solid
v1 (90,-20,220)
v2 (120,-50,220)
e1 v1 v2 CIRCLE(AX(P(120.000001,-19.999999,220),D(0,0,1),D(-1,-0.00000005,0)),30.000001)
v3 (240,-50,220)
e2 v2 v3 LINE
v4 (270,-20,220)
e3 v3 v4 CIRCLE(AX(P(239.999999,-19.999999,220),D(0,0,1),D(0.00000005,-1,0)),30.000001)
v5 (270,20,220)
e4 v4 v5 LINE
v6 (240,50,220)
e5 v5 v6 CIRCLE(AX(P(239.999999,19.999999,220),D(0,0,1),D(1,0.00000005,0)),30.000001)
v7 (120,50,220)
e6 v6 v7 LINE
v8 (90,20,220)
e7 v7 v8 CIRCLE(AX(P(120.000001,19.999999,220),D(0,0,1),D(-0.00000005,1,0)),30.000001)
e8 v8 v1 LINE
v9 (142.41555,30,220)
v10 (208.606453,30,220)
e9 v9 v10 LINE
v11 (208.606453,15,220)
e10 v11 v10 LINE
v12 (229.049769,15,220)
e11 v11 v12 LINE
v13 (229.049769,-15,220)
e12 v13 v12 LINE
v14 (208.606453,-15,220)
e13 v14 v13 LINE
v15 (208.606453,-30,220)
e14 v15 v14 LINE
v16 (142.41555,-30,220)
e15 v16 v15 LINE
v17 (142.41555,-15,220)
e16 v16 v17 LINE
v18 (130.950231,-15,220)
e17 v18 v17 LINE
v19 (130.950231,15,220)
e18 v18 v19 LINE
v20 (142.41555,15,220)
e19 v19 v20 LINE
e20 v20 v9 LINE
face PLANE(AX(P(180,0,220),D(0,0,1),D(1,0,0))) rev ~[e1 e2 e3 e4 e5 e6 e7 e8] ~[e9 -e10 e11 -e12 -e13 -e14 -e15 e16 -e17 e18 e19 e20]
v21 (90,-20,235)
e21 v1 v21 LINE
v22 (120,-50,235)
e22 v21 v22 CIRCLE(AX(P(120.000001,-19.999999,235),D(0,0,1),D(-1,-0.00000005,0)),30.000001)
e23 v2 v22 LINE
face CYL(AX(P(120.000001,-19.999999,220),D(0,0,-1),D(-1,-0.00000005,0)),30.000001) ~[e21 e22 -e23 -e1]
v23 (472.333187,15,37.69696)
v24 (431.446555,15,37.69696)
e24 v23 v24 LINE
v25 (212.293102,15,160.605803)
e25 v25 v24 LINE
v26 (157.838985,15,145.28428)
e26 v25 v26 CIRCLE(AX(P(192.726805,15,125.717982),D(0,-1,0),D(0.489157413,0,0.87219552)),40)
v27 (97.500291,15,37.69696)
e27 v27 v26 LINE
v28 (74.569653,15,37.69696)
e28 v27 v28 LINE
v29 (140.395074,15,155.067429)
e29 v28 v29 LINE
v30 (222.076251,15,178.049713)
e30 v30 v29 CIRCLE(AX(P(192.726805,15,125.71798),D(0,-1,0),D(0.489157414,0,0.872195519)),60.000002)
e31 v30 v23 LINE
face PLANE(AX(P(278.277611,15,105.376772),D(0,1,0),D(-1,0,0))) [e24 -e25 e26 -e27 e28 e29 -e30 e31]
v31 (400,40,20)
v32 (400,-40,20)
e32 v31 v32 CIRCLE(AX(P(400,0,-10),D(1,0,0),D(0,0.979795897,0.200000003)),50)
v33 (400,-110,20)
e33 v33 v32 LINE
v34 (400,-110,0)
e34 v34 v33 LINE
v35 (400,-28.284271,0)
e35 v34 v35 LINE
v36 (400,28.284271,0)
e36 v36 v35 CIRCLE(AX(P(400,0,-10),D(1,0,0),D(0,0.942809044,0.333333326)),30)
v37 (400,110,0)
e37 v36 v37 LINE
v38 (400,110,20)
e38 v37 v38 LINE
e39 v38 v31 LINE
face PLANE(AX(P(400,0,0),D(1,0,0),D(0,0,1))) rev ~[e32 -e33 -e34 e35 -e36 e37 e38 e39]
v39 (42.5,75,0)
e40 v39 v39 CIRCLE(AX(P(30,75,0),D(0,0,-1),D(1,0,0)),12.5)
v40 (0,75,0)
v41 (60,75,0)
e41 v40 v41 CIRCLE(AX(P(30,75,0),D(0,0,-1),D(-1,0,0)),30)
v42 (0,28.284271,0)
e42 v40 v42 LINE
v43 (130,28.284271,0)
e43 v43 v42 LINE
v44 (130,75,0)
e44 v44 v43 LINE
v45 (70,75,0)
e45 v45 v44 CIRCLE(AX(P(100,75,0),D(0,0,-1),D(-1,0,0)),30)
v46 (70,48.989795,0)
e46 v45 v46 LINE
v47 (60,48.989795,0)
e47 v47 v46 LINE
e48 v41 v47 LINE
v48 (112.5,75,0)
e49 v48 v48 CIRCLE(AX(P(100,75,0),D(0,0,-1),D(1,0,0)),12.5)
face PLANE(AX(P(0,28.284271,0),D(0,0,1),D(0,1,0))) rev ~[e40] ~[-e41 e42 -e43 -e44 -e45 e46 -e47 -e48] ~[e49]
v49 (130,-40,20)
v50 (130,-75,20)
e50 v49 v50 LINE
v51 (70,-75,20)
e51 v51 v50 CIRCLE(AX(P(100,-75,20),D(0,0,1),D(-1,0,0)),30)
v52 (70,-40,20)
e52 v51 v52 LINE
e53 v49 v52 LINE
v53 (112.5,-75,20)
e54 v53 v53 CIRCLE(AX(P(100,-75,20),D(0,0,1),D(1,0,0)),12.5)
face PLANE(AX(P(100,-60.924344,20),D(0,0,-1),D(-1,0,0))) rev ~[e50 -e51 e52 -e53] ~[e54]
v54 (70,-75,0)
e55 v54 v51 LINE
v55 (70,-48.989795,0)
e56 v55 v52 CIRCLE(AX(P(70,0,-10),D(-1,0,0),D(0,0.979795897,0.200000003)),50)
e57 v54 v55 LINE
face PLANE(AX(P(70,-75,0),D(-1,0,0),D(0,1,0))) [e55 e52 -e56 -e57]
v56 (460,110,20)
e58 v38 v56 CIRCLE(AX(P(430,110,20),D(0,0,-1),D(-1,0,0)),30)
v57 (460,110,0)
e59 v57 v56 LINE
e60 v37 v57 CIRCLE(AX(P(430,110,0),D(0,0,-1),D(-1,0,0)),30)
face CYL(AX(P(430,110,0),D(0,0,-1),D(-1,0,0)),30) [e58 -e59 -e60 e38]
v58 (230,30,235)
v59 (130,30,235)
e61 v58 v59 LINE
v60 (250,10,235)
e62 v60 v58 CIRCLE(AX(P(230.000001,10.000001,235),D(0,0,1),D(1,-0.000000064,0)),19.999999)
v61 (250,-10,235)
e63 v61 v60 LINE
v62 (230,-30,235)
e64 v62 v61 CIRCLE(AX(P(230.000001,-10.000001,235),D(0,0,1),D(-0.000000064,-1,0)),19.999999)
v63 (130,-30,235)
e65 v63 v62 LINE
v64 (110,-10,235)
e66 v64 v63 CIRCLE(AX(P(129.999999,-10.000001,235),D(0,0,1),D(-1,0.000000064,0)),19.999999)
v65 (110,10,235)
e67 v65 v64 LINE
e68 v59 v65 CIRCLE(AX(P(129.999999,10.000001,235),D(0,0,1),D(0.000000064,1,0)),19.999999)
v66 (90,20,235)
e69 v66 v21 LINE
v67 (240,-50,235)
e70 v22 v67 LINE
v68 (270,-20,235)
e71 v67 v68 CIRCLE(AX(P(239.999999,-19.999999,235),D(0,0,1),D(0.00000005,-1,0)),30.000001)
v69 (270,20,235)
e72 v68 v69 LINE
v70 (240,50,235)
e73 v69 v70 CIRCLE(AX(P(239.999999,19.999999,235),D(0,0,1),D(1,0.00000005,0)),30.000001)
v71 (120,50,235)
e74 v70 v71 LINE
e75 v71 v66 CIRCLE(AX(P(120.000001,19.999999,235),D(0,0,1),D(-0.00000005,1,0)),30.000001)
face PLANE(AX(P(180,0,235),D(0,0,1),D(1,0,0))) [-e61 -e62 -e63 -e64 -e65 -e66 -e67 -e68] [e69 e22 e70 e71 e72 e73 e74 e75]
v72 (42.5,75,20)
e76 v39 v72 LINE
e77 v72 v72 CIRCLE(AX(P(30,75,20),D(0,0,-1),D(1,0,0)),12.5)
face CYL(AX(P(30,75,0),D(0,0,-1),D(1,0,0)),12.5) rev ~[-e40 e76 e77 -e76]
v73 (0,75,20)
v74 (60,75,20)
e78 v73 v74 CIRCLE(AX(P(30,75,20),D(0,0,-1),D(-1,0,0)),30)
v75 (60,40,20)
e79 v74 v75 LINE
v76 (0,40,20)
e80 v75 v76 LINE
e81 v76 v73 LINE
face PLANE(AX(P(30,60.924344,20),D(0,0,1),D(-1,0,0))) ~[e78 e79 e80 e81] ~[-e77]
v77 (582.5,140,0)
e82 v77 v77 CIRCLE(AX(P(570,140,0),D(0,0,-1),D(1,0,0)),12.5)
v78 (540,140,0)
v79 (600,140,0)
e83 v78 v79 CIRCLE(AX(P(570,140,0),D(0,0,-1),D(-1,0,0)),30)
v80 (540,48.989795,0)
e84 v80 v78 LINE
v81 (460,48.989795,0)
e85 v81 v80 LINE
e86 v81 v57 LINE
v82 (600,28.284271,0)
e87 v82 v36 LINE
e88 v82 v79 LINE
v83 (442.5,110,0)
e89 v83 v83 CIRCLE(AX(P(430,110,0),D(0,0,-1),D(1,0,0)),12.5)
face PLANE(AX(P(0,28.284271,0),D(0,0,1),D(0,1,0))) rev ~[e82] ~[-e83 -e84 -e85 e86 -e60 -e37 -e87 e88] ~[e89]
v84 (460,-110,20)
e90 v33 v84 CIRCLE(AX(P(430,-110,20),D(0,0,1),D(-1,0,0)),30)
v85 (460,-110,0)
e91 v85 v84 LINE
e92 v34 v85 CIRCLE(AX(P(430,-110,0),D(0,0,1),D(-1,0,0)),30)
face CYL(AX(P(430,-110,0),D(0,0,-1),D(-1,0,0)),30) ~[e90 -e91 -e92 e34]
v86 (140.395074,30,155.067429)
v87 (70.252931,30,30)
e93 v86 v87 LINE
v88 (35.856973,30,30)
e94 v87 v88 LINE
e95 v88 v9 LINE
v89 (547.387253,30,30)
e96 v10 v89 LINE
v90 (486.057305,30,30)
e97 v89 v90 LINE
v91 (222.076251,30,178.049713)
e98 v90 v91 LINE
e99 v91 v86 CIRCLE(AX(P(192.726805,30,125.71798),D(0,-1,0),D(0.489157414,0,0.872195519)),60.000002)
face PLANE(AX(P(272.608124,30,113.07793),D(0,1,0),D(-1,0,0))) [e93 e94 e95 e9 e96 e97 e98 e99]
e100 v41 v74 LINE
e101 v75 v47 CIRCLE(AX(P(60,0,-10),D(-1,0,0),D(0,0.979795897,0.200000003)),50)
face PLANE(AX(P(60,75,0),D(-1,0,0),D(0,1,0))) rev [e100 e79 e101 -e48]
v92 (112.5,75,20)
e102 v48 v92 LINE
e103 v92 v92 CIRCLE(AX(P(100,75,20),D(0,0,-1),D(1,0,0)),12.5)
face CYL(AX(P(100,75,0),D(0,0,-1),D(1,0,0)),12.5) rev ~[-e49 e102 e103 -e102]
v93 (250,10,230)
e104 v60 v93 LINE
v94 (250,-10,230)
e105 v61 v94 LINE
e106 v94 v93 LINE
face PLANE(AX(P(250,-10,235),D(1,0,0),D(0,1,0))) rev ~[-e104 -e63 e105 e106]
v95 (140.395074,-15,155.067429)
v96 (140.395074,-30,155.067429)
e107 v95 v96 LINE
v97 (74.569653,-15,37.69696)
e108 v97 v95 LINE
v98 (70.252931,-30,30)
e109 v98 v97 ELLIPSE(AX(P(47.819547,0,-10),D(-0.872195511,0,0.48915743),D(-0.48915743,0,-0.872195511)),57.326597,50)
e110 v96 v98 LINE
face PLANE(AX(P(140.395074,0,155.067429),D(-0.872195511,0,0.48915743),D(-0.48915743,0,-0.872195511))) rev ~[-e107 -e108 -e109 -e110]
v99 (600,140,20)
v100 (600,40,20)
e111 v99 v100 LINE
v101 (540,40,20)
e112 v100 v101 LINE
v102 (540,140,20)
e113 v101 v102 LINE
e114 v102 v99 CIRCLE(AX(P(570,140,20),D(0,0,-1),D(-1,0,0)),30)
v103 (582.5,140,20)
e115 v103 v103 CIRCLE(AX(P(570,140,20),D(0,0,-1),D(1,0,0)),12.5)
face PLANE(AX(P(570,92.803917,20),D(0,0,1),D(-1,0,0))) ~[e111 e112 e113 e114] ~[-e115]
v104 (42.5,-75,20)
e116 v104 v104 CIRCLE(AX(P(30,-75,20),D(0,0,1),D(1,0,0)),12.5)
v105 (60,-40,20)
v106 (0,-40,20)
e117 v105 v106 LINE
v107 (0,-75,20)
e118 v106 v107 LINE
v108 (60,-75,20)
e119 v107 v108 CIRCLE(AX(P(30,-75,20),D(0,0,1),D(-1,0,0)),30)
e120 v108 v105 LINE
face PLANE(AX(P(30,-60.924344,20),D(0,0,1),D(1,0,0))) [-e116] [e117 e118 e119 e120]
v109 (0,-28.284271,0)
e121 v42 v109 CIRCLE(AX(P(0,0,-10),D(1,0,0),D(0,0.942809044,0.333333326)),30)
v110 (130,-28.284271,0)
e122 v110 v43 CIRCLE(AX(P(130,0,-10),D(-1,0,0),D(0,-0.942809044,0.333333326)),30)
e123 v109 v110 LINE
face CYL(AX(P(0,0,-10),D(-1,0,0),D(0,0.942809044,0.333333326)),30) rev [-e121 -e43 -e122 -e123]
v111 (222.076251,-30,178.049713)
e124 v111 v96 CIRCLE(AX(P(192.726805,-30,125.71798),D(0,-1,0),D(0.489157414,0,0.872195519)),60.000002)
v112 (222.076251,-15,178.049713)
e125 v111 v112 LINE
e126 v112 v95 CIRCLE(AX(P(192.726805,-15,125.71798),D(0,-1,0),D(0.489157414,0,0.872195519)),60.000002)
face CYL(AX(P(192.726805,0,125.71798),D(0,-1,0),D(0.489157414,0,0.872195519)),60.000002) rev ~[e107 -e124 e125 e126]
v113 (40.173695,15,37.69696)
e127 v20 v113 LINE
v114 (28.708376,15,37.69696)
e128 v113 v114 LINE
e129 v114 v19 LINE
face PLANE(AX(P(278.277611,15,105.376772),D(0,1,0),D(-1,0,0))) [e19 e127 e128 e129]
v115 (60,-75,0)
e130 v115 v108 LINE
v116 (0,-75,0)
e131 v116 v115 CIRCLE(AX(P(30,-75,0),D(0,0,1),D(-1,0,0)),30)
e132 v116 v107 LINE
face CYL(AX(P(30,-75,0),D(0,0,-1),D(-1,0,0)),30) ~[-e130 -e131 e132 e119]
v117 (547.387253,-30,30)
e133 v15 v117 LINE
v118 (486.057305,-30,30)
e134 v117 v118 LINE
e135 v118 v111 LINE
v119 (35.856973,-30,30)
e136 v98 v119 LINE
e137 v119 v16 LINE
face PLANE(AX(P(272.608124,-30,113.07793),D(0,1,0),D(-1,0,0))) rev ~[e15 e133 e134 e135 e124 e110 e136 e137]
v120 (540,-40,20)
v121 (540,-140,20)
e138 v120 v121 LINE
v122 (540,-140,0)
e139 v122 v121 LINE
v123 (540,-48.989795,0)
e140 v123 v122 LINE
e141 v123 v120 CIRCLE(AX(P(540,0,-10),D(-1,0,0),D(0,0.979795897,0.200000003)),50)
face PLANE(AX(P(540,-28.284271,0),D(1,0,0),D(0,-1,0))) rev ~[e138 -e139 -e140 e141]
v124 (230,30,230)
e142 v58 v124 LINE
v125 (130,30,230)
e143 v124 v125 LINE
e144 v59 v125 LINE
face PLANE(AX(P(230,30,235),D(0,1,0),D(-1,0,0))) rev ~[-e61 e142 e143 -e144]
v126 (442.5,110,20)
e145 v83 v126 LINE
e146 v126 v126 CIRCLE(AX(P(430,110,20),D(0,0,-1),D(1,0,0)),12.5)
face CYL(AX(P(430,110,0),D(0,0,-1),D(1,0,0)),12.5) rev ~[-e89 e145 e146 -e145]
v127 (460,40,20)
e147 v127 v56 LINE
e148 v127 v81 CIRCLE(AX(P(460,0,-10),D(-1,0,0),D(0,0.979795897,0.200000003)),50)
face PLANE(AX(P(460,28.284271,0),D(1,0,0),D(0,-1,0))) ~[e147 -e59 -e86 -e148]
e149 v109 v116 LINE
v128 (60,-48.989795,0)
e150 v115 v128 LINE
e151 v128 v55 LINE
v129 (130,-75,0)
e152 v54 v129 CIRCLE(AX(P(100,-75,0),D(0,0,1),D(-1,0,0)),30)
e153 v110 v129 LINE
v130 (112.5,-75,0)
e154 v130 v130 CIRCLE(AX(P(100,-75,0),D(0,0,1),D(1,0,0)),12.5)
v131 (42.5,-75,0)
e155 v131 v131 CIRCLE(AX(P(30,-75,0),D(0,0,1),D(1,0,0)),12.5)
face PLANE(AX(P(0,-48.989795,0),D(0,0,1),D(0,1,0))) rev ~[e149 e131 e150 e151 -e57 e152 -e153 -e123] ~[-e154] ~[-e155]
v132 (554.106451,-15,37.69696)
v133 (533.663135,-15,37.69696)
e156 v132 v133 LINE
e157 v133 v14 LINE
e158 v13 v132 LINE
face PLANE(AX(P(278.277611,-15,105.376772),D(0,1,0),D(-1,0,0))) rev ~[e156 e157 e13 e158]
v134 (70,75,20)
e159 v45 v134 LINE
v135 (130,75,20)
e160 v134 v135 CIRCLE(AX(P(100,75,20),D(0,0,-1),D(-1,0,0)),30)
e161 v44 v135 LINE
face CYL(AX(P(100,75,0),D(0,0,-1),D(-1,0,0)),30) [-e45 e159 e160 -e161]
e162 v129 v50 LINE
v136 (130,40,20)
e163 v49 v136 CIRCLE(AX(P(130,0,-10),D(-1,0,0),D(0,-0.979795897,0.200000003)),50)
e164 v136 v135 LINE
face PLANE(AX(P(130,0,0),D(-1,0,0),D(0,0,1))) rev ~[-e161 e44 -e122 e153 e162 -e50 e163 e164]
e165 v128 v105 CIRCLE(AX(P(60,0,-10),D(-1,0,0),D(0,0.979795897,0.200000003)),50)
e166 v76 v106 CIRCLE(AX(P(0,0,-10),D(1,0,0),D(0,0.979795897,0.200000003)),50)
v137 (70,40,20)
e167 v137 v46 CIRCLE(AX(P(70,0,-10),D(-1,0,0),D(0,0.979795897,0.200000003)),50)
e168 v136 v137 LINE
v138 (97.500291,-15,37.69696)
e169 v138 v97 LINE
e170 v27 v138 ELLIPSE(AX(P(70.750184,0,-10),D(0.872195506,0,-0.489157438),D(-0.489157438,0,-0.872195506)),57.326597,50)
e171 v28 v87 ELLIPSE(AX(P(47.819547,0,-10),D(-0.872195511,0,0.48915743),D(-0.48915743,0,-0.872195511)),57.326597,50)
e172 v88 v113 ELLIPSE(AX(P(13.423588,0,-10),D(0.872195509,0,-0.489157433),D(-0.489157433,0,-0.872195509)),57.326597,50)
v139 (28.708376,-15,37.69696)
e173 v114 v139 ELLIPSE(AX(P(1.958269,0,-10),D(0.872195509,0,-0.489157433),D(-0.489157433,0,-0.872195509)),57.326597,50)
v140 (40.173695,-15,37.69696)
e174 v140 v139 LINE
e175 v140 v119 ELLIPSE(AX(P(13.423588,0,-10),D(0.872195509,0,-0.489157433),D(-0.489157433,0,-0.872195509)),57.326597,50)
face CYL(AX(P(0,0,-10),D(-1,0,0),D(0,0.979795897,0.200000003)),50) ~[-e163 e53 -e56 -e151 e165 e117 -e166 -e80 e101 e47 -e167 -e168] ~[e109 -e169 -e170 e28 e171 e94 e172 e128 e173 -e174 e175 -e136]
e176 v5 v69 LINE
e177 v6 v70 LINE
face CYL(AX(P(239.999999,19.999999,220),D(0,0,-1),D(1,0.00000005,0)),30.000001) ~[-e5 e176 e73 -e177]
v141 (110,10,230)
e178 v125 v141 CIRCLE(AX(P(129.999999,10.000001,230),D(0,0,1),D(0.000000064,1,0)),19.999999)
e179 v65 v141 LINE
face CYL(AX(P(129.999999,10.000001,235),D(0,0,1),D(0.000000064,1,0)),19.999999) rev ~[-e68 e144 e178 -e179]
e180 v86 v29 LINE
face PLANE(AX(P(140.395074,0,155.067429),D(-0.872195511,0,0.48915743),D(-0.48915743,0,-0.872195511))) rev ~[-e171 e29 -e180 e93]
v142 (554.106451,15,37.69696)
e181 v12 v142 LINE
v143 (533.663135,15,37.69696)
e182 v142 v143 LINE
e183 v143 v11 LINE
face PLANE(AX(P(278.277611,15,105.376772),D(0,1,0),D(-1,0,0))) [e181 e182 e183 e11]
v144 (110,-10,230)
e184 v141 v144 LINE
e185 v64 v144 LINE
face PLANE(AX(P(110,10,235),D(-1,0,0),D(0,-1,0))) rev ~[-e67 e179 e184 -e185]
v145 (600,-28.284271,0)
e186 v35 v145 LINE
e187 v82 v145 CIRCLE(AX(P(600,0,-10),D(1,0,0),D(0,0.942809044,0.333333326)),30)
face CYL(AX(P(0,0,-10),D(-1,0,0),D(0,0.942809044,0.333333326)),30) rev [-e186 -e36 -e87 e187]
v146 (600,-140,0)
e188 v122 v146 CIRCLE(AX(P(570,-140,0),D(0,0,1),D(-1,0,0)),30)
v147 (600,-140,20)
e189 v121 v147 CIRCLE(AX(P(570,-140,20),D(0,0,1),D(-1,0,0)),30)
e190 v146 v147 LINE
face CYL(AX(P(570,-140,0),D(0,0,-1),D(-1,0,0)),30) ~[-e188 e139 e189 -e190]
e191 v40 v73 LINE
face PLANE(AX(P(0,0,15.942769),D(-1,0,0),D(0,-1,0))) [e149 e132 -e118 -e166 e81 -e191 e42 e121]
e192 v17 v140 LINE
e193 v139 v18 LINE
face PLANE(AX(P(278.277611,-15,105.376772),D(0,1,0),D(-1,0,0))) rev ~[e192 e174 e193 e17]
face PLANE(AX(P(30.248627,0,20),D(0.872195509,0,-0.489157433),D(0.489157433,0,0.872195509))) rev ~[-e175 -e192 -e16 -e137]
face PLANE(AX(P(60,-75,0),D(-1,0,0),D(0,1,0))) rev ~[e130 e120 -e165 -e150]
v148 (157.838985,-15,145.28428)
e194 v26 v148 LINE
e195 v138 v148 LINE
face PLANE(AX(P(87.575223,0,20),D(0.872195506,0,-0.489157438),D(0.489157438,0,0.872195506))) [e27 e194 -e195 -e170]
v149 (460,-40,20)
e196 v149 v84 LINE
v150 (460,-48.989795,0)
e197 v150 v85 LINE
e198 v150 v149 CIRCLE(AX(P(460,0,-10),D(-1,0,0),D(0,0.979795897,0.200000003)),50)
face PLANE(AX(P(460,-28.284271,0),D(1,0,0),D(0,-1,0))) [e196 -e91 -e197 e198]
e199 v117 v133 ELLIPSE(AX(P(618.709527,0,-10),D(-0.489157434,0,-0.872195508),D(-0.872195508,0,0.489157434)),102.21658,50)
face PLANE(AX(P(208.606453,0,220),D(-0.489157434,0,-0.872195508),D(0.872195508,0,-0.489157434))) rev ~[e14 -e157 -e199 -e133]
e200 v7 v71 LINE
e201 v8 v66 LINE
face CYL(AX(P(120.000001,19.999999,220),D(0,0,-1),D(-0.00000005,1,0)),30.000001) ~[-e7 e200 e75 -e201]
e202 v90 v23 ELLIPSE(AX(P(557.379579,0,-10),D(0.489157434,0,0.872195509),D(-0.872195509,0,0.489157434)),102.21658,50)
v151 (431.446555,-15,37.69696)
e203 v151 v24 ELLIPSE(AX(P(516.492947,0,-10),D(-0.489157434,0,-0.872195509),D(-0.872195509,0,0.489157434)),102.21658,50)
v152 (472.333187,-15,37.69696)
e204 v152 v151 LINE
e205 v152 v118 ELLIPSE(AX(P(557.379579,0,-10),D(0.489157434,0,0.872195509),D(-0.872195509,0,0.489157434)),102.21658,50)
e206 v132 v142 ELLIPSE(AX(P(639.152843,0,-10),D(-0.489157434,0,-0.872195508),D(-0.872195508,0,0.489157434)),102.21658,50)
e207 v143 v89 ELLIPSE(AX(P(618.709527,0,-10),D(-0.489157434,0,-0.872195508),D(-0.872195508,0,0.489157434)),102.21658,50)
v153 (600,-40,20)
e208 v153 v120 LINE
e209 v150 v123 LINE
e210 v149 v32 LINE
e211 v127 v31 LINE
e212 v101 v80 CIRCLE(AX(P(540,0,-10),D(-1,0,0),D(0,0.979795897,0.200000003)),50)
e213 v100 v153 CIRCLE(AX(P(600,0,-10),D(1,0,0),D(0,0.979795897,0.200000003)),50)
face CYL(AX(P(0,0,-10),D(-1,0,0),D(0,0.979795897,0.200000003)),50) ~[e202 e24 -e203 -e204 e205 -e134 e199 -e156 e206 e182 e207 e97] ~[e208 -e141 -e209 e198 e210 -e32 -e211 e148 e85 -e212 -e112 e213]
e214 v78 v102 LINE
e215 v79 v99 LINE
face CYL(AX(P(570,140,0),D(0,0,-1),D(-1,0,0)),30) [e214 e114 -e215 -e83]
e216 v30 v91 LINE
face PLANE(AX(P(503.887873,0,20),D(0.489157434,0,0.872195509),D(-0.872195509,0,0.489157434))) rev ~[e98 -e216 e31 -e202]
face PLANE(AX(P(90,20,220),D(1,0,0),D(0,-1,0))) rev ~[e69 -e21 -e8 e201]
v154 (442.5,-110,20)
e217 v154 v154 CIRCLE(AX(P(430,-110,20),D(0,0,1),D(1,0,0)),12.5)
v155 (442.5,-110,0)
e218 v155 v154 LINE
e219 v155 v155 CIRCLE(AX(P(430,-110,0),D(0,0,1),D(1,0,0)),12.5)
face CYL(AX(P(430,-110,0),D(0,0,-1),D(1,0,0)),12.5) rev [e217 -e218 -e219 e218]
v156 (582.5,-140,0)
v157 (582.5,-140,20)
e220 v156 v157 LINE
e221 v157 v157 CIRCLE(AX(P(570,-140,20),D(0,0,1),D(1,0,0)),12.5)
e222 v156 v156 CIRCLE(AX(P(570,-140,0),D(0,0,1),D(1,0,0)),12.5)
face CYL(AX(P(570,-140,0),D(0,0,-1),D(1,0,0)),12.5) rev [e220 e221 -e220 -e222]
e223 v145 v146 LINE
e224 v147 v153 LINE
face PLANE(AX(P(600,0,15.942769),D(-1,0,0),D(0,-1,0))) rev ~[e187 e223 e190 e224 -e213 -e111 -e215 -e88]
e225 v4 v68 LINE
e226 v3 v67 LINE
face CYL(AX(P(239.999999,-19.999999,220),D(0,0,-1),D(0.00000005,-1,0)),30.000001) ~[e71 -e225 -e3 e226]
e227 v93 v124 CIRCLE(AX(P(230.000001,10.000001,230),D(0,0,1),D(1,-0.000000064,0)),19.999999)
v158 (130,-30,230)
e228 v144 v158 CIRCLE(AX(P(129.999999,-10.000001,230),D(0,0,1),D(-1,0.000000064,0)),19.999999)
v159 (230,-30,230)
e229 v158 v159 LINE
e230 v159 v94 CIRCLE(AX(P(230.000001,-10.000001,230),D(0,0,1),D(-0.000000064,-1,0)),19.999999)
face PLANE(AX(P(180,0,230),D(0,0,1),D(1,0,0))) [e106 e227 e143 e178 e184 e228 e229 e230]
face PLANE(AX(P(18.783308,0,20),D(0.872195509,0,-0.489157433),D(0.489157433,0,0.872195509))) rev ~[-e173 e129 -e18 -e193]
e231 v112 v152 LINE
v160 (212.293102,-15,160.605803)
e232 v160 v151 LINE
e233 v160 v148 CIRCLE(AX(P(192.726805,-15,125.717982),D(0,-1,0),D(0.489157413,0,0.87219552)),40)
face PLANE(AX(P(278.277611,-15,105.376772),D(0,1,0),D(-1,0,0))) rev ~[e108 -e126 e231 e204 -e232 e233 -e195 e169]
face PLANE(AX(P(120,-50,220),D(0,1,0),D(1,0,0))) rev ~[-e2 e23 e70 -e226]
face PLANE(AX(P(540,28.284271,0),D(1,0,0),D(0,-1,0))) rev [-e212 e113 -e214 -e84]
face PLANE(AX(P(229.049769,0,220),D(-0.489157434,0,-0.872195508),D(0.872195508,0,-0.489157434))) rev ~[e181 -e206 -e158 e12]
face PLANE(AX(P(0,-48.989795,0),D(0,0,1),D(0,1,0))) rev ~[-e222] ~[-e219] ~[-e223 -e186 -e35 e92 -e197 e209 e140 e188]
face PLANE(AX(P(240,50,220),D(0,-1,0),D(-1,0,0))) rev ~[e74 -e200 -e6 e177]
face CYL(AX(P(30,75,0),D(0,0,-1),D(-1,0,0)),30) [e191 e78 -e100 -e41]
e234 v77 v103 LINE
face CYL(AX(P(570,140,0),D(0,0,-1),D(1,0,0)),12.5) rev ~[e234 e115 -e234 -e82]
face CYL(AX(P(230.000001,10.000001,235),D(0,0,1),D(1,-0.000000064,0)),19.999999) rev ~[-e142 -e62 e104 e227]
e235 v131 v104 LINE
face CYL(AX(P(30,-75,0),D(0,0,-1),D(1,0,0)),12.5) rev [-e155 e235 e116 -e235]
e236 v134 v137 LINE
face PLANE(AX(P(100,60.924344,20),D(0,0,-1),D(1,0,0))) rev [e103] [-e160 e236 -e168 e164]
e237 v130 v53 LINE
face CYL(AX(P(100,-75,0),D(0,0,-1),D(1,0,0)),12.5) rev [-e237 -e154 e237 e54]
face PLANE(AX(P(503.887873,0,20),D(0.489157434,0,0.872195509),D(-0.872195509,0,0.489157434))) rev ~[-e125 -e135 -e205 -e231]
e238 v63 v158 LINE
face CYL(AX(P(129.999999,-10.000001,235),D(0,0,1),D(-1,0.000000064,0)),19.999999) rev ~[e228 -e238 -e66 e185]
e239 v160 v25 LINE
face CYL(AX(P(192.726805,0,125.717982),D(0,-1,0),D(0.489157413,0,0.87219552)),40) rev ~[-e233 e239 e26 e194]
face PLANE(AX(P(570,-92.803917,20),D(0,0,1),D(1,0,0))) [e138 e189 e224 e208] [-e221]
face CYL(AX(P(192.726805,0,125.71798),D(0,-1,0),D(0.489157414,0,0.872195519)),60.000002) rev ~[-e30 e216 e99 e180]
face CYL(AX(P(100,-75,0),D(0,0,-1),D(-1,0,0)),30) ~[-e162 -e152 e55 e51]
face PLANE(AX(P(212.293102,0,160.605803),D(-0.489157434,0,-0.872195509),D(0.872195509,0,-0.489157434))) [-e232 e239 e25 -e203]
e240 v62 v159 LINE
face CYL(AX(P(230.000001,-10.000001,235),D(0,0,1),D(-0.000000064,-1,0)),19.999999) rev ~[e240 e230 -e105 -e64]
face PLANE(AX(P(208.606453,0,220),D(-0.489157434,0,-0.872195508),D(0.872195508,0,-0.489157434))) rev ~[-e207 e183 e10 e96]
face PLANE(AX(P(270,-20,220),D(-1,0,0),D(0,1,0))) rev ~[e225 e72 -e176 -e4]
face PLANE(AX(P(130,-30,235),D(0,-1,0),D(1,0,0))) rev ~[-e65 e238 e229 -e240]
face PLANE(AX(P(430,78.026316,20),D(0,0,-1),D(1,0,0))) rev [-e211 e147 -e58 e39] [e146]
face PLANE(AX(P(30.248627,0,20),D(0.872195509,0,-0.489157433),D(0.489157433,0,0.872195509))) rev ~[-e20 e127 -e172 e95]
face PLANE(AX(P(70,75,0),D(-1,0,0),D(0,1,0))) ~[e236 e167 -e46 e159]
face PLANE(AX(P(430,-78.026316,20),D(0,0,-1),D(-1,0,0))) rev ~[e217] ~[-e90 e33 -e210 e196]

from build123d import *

# Parameters (mm, degrees)
PAD_DEPTH         = 600
PAD001_DEPTH      = 15
PAD002_DEPTH      = 30
SKETCH004_W       = 270
SKETCH004_H       = 40
POCKET_DEPTH      = 48.990795
POCKET_DEPTH_BACK = -48.990795
PAD003_DEPTH      = 15
POCKET001_DEPTH   = 5
SKETCH007_R       = 12.5
PAD004_DEPTH      = 20


with BuildPart() as part:
    # Sketch (on YZ_Plane of Origin) → Pad (new body)
    with BuildSketch(Plane.YZ):
        with BuildLine():
            ThreePointArc((28.284271, 0), (0, 20), (-28.284271, 0))
            Line((-48.989795, 0), (-28.284271, 0))
            ThreePointArc((48.989795, 0), (0, 40), (-48.989795, 0))
            Line((28.284271, 0), (48.989795, 0))
        make_face()
    extrude(amount=PAD_DEPTH)

    # Sketch002 (on XZ_Plane of Origin) → Pad001 (join, symmetric)
    with BuildSketch(Plane.XZ):
        with BuildLine():
            Line((18.783308, 20), (130.950231, 220))
            Line((130.950231, 220), (229.049769, 220))
            Line((229.049769, 220), (585.661137, 20))
            Line((463.001241, 20), (585.661137, 20))
            Line((212.293102, 160.605803), (463.001241, 20))
            ThreePointArc((212.293102, 160.605803), (181.892852, 164.222858), (157.838985, 145.28428))
            Line((87.575223, 20), (157.838985, 145.28428))
            Line((18.783308, 20), (87.575223, 20))
        make_face()
    extrude(amount=PAD001_DEPTH, both=True)

    # Sketch003 → Pad002 (join, symmetric)
    with BuildSketch(Plane.XZ):
        with BuildLine():
            Line((30.248627, 20), (142.41555, 220))
            Line((142.41555, 220), (208.606453, 220))
            Line((208.606453, 220), (565.217821, 20))
            Line((565.217821, 20), (503.887873, 20))
            Line((503.887873, 20), (222.076251, 178.049713))
            ThreePointArc((222.076251, 178.049713), (176.475876, 183.475296), (140.395074, 155.067429))
            Line((140.395074, 155.067429), (64.644585, 20))
            Line((64.644585, 20), (30.248627, 20))
        make_face()
    pad002 = extrude(amount=PAD002_DEPTH, both=True)

    # Mirrored: Pad002 across XZ
    add(pad002.mirror(Plane.XZ))

    # Sketch004 (on XZ_Plane of Origin) → Pocket (cut, two sides)
    with BuildSketch(Plane.XZ) as pocket_sk:
        with Locations((265, 20)):
            Rectangle(SKETCH004_W, SKETCH004_H)
    extrude(amount=-POCKET_DEPTH, mode=Mode.SUBTRACT)
    extrude(pocket_sk.sketch, amount=-POCKET_DEPTH_BACK, mode=Mode.SUBTRACT)

    # Sketch005 (on Face27 of Pocket) → Pad003 (join)
    with BuildSketch(Plane.XY.offset(220)):
        with BuildLine():
            Line((90, 20), (90, -20))
            ThreePointArc((90, -20), (98.786797, -41.213203), (120, -50))
            Line((120, -50), (240, -50))
            ThreePointArc((240, -50), (261.213203, -41.213203), (270, -20))
            Line((270, -20), (270, 20))
            ThreePointArc((270, 20), (261.213203, 41.213203), (240, 50))
            Line((240, 50), (120, 50))
            ThreePointArc((120, 50), (98.786797, 41.213203), (90, 20))
        make_face()
    extrude(amount=PAD003_DEPTH)

    # Sketch006 (on Face45 of Pad003) → Pocket001 (cut)
    with BuildSketch(Plane.XY.offset(235)):
        with BuildLine():
            Line((110, 10), (110, -10))
            ThreePointArc((110, -10), (115.857864, -24.142136), (130, -30))
            Line((130, -30), (230, -30))
            ThreePointArc((230, -30), (244.142136, -24.142136), (250, -10))
            Line((250, -10), (250, 10))
            ThreePointArc((250, 10), (244.142136, 24.142136), (230, 30))
            Line((230, 30), (130, 30))
            ThreePointArc((130, 30), (115.857864, 24.142136), (110, 10))
        make_face()
    extrude(amount=-POCKET001_DEPTH, mode=Mode.SUBTRACT)

    # Sketch007 (on XY_Plane of Origin) → Pad004 (join)
    with BuildSketch(Plane.XY):
        with BuildLine():
            Line((0, -28.284271), (0, -75))
            ThreePointArc((0, -75), (30, -105), (60, -75))
            Line((60, -75), (60, -28.284271))
            Line((60, -28.284271), (0, -28.284271))
        make_face()
        with Locations((30, -75)):
            Circle(SKETCH007_R, mode=Mode.SUBTRACT)
        with BuildLine():
            Line((130, -28.284271), (130, -75))
            ThreePointArc((70, -75), (100, -105), (130, -75))
            Line((70, -75), (70, -28.284271))
            Line((70, -28.284271), (130, -28.284271))
        make_face()
        with Locations((100, -75)):
            Circle(SKETCH007_R, mode=Mode.SUBTRACT)
        with BuildLine():
            Line((400, -28.284271), (460, -28.284271))
            Line((460, -28.284271), (460, -110))
            ThreePointArc((400, -110), (430, -140), (460, -110))
            Line((400, -110), (400, -28.284271))
        make_face()
        with Locations((430, -110)):
            Circle(SKETCH007_R, mode=Mode.SUBTRACT)
        with BuildLine():
            Line((540, -28.284271), (540, -140))
            ThreePointArc((540, -140), (570, -170), (600, -140))
            Line((600, -140), (600, -28.284271))
            Line((600, -28.284271), (540, -28.284271))
        make_face()
        with Locations((570, -140)):
            Circle(SKETCH007_R, mode=Mode.SUBTRACT)
    pad004 = extrude(amount=PAD004_DEPTH)

    # Mirrored001: Pad004 across XZ
    add(pad004.mirror(Plane.XZ))


solid = part.part
